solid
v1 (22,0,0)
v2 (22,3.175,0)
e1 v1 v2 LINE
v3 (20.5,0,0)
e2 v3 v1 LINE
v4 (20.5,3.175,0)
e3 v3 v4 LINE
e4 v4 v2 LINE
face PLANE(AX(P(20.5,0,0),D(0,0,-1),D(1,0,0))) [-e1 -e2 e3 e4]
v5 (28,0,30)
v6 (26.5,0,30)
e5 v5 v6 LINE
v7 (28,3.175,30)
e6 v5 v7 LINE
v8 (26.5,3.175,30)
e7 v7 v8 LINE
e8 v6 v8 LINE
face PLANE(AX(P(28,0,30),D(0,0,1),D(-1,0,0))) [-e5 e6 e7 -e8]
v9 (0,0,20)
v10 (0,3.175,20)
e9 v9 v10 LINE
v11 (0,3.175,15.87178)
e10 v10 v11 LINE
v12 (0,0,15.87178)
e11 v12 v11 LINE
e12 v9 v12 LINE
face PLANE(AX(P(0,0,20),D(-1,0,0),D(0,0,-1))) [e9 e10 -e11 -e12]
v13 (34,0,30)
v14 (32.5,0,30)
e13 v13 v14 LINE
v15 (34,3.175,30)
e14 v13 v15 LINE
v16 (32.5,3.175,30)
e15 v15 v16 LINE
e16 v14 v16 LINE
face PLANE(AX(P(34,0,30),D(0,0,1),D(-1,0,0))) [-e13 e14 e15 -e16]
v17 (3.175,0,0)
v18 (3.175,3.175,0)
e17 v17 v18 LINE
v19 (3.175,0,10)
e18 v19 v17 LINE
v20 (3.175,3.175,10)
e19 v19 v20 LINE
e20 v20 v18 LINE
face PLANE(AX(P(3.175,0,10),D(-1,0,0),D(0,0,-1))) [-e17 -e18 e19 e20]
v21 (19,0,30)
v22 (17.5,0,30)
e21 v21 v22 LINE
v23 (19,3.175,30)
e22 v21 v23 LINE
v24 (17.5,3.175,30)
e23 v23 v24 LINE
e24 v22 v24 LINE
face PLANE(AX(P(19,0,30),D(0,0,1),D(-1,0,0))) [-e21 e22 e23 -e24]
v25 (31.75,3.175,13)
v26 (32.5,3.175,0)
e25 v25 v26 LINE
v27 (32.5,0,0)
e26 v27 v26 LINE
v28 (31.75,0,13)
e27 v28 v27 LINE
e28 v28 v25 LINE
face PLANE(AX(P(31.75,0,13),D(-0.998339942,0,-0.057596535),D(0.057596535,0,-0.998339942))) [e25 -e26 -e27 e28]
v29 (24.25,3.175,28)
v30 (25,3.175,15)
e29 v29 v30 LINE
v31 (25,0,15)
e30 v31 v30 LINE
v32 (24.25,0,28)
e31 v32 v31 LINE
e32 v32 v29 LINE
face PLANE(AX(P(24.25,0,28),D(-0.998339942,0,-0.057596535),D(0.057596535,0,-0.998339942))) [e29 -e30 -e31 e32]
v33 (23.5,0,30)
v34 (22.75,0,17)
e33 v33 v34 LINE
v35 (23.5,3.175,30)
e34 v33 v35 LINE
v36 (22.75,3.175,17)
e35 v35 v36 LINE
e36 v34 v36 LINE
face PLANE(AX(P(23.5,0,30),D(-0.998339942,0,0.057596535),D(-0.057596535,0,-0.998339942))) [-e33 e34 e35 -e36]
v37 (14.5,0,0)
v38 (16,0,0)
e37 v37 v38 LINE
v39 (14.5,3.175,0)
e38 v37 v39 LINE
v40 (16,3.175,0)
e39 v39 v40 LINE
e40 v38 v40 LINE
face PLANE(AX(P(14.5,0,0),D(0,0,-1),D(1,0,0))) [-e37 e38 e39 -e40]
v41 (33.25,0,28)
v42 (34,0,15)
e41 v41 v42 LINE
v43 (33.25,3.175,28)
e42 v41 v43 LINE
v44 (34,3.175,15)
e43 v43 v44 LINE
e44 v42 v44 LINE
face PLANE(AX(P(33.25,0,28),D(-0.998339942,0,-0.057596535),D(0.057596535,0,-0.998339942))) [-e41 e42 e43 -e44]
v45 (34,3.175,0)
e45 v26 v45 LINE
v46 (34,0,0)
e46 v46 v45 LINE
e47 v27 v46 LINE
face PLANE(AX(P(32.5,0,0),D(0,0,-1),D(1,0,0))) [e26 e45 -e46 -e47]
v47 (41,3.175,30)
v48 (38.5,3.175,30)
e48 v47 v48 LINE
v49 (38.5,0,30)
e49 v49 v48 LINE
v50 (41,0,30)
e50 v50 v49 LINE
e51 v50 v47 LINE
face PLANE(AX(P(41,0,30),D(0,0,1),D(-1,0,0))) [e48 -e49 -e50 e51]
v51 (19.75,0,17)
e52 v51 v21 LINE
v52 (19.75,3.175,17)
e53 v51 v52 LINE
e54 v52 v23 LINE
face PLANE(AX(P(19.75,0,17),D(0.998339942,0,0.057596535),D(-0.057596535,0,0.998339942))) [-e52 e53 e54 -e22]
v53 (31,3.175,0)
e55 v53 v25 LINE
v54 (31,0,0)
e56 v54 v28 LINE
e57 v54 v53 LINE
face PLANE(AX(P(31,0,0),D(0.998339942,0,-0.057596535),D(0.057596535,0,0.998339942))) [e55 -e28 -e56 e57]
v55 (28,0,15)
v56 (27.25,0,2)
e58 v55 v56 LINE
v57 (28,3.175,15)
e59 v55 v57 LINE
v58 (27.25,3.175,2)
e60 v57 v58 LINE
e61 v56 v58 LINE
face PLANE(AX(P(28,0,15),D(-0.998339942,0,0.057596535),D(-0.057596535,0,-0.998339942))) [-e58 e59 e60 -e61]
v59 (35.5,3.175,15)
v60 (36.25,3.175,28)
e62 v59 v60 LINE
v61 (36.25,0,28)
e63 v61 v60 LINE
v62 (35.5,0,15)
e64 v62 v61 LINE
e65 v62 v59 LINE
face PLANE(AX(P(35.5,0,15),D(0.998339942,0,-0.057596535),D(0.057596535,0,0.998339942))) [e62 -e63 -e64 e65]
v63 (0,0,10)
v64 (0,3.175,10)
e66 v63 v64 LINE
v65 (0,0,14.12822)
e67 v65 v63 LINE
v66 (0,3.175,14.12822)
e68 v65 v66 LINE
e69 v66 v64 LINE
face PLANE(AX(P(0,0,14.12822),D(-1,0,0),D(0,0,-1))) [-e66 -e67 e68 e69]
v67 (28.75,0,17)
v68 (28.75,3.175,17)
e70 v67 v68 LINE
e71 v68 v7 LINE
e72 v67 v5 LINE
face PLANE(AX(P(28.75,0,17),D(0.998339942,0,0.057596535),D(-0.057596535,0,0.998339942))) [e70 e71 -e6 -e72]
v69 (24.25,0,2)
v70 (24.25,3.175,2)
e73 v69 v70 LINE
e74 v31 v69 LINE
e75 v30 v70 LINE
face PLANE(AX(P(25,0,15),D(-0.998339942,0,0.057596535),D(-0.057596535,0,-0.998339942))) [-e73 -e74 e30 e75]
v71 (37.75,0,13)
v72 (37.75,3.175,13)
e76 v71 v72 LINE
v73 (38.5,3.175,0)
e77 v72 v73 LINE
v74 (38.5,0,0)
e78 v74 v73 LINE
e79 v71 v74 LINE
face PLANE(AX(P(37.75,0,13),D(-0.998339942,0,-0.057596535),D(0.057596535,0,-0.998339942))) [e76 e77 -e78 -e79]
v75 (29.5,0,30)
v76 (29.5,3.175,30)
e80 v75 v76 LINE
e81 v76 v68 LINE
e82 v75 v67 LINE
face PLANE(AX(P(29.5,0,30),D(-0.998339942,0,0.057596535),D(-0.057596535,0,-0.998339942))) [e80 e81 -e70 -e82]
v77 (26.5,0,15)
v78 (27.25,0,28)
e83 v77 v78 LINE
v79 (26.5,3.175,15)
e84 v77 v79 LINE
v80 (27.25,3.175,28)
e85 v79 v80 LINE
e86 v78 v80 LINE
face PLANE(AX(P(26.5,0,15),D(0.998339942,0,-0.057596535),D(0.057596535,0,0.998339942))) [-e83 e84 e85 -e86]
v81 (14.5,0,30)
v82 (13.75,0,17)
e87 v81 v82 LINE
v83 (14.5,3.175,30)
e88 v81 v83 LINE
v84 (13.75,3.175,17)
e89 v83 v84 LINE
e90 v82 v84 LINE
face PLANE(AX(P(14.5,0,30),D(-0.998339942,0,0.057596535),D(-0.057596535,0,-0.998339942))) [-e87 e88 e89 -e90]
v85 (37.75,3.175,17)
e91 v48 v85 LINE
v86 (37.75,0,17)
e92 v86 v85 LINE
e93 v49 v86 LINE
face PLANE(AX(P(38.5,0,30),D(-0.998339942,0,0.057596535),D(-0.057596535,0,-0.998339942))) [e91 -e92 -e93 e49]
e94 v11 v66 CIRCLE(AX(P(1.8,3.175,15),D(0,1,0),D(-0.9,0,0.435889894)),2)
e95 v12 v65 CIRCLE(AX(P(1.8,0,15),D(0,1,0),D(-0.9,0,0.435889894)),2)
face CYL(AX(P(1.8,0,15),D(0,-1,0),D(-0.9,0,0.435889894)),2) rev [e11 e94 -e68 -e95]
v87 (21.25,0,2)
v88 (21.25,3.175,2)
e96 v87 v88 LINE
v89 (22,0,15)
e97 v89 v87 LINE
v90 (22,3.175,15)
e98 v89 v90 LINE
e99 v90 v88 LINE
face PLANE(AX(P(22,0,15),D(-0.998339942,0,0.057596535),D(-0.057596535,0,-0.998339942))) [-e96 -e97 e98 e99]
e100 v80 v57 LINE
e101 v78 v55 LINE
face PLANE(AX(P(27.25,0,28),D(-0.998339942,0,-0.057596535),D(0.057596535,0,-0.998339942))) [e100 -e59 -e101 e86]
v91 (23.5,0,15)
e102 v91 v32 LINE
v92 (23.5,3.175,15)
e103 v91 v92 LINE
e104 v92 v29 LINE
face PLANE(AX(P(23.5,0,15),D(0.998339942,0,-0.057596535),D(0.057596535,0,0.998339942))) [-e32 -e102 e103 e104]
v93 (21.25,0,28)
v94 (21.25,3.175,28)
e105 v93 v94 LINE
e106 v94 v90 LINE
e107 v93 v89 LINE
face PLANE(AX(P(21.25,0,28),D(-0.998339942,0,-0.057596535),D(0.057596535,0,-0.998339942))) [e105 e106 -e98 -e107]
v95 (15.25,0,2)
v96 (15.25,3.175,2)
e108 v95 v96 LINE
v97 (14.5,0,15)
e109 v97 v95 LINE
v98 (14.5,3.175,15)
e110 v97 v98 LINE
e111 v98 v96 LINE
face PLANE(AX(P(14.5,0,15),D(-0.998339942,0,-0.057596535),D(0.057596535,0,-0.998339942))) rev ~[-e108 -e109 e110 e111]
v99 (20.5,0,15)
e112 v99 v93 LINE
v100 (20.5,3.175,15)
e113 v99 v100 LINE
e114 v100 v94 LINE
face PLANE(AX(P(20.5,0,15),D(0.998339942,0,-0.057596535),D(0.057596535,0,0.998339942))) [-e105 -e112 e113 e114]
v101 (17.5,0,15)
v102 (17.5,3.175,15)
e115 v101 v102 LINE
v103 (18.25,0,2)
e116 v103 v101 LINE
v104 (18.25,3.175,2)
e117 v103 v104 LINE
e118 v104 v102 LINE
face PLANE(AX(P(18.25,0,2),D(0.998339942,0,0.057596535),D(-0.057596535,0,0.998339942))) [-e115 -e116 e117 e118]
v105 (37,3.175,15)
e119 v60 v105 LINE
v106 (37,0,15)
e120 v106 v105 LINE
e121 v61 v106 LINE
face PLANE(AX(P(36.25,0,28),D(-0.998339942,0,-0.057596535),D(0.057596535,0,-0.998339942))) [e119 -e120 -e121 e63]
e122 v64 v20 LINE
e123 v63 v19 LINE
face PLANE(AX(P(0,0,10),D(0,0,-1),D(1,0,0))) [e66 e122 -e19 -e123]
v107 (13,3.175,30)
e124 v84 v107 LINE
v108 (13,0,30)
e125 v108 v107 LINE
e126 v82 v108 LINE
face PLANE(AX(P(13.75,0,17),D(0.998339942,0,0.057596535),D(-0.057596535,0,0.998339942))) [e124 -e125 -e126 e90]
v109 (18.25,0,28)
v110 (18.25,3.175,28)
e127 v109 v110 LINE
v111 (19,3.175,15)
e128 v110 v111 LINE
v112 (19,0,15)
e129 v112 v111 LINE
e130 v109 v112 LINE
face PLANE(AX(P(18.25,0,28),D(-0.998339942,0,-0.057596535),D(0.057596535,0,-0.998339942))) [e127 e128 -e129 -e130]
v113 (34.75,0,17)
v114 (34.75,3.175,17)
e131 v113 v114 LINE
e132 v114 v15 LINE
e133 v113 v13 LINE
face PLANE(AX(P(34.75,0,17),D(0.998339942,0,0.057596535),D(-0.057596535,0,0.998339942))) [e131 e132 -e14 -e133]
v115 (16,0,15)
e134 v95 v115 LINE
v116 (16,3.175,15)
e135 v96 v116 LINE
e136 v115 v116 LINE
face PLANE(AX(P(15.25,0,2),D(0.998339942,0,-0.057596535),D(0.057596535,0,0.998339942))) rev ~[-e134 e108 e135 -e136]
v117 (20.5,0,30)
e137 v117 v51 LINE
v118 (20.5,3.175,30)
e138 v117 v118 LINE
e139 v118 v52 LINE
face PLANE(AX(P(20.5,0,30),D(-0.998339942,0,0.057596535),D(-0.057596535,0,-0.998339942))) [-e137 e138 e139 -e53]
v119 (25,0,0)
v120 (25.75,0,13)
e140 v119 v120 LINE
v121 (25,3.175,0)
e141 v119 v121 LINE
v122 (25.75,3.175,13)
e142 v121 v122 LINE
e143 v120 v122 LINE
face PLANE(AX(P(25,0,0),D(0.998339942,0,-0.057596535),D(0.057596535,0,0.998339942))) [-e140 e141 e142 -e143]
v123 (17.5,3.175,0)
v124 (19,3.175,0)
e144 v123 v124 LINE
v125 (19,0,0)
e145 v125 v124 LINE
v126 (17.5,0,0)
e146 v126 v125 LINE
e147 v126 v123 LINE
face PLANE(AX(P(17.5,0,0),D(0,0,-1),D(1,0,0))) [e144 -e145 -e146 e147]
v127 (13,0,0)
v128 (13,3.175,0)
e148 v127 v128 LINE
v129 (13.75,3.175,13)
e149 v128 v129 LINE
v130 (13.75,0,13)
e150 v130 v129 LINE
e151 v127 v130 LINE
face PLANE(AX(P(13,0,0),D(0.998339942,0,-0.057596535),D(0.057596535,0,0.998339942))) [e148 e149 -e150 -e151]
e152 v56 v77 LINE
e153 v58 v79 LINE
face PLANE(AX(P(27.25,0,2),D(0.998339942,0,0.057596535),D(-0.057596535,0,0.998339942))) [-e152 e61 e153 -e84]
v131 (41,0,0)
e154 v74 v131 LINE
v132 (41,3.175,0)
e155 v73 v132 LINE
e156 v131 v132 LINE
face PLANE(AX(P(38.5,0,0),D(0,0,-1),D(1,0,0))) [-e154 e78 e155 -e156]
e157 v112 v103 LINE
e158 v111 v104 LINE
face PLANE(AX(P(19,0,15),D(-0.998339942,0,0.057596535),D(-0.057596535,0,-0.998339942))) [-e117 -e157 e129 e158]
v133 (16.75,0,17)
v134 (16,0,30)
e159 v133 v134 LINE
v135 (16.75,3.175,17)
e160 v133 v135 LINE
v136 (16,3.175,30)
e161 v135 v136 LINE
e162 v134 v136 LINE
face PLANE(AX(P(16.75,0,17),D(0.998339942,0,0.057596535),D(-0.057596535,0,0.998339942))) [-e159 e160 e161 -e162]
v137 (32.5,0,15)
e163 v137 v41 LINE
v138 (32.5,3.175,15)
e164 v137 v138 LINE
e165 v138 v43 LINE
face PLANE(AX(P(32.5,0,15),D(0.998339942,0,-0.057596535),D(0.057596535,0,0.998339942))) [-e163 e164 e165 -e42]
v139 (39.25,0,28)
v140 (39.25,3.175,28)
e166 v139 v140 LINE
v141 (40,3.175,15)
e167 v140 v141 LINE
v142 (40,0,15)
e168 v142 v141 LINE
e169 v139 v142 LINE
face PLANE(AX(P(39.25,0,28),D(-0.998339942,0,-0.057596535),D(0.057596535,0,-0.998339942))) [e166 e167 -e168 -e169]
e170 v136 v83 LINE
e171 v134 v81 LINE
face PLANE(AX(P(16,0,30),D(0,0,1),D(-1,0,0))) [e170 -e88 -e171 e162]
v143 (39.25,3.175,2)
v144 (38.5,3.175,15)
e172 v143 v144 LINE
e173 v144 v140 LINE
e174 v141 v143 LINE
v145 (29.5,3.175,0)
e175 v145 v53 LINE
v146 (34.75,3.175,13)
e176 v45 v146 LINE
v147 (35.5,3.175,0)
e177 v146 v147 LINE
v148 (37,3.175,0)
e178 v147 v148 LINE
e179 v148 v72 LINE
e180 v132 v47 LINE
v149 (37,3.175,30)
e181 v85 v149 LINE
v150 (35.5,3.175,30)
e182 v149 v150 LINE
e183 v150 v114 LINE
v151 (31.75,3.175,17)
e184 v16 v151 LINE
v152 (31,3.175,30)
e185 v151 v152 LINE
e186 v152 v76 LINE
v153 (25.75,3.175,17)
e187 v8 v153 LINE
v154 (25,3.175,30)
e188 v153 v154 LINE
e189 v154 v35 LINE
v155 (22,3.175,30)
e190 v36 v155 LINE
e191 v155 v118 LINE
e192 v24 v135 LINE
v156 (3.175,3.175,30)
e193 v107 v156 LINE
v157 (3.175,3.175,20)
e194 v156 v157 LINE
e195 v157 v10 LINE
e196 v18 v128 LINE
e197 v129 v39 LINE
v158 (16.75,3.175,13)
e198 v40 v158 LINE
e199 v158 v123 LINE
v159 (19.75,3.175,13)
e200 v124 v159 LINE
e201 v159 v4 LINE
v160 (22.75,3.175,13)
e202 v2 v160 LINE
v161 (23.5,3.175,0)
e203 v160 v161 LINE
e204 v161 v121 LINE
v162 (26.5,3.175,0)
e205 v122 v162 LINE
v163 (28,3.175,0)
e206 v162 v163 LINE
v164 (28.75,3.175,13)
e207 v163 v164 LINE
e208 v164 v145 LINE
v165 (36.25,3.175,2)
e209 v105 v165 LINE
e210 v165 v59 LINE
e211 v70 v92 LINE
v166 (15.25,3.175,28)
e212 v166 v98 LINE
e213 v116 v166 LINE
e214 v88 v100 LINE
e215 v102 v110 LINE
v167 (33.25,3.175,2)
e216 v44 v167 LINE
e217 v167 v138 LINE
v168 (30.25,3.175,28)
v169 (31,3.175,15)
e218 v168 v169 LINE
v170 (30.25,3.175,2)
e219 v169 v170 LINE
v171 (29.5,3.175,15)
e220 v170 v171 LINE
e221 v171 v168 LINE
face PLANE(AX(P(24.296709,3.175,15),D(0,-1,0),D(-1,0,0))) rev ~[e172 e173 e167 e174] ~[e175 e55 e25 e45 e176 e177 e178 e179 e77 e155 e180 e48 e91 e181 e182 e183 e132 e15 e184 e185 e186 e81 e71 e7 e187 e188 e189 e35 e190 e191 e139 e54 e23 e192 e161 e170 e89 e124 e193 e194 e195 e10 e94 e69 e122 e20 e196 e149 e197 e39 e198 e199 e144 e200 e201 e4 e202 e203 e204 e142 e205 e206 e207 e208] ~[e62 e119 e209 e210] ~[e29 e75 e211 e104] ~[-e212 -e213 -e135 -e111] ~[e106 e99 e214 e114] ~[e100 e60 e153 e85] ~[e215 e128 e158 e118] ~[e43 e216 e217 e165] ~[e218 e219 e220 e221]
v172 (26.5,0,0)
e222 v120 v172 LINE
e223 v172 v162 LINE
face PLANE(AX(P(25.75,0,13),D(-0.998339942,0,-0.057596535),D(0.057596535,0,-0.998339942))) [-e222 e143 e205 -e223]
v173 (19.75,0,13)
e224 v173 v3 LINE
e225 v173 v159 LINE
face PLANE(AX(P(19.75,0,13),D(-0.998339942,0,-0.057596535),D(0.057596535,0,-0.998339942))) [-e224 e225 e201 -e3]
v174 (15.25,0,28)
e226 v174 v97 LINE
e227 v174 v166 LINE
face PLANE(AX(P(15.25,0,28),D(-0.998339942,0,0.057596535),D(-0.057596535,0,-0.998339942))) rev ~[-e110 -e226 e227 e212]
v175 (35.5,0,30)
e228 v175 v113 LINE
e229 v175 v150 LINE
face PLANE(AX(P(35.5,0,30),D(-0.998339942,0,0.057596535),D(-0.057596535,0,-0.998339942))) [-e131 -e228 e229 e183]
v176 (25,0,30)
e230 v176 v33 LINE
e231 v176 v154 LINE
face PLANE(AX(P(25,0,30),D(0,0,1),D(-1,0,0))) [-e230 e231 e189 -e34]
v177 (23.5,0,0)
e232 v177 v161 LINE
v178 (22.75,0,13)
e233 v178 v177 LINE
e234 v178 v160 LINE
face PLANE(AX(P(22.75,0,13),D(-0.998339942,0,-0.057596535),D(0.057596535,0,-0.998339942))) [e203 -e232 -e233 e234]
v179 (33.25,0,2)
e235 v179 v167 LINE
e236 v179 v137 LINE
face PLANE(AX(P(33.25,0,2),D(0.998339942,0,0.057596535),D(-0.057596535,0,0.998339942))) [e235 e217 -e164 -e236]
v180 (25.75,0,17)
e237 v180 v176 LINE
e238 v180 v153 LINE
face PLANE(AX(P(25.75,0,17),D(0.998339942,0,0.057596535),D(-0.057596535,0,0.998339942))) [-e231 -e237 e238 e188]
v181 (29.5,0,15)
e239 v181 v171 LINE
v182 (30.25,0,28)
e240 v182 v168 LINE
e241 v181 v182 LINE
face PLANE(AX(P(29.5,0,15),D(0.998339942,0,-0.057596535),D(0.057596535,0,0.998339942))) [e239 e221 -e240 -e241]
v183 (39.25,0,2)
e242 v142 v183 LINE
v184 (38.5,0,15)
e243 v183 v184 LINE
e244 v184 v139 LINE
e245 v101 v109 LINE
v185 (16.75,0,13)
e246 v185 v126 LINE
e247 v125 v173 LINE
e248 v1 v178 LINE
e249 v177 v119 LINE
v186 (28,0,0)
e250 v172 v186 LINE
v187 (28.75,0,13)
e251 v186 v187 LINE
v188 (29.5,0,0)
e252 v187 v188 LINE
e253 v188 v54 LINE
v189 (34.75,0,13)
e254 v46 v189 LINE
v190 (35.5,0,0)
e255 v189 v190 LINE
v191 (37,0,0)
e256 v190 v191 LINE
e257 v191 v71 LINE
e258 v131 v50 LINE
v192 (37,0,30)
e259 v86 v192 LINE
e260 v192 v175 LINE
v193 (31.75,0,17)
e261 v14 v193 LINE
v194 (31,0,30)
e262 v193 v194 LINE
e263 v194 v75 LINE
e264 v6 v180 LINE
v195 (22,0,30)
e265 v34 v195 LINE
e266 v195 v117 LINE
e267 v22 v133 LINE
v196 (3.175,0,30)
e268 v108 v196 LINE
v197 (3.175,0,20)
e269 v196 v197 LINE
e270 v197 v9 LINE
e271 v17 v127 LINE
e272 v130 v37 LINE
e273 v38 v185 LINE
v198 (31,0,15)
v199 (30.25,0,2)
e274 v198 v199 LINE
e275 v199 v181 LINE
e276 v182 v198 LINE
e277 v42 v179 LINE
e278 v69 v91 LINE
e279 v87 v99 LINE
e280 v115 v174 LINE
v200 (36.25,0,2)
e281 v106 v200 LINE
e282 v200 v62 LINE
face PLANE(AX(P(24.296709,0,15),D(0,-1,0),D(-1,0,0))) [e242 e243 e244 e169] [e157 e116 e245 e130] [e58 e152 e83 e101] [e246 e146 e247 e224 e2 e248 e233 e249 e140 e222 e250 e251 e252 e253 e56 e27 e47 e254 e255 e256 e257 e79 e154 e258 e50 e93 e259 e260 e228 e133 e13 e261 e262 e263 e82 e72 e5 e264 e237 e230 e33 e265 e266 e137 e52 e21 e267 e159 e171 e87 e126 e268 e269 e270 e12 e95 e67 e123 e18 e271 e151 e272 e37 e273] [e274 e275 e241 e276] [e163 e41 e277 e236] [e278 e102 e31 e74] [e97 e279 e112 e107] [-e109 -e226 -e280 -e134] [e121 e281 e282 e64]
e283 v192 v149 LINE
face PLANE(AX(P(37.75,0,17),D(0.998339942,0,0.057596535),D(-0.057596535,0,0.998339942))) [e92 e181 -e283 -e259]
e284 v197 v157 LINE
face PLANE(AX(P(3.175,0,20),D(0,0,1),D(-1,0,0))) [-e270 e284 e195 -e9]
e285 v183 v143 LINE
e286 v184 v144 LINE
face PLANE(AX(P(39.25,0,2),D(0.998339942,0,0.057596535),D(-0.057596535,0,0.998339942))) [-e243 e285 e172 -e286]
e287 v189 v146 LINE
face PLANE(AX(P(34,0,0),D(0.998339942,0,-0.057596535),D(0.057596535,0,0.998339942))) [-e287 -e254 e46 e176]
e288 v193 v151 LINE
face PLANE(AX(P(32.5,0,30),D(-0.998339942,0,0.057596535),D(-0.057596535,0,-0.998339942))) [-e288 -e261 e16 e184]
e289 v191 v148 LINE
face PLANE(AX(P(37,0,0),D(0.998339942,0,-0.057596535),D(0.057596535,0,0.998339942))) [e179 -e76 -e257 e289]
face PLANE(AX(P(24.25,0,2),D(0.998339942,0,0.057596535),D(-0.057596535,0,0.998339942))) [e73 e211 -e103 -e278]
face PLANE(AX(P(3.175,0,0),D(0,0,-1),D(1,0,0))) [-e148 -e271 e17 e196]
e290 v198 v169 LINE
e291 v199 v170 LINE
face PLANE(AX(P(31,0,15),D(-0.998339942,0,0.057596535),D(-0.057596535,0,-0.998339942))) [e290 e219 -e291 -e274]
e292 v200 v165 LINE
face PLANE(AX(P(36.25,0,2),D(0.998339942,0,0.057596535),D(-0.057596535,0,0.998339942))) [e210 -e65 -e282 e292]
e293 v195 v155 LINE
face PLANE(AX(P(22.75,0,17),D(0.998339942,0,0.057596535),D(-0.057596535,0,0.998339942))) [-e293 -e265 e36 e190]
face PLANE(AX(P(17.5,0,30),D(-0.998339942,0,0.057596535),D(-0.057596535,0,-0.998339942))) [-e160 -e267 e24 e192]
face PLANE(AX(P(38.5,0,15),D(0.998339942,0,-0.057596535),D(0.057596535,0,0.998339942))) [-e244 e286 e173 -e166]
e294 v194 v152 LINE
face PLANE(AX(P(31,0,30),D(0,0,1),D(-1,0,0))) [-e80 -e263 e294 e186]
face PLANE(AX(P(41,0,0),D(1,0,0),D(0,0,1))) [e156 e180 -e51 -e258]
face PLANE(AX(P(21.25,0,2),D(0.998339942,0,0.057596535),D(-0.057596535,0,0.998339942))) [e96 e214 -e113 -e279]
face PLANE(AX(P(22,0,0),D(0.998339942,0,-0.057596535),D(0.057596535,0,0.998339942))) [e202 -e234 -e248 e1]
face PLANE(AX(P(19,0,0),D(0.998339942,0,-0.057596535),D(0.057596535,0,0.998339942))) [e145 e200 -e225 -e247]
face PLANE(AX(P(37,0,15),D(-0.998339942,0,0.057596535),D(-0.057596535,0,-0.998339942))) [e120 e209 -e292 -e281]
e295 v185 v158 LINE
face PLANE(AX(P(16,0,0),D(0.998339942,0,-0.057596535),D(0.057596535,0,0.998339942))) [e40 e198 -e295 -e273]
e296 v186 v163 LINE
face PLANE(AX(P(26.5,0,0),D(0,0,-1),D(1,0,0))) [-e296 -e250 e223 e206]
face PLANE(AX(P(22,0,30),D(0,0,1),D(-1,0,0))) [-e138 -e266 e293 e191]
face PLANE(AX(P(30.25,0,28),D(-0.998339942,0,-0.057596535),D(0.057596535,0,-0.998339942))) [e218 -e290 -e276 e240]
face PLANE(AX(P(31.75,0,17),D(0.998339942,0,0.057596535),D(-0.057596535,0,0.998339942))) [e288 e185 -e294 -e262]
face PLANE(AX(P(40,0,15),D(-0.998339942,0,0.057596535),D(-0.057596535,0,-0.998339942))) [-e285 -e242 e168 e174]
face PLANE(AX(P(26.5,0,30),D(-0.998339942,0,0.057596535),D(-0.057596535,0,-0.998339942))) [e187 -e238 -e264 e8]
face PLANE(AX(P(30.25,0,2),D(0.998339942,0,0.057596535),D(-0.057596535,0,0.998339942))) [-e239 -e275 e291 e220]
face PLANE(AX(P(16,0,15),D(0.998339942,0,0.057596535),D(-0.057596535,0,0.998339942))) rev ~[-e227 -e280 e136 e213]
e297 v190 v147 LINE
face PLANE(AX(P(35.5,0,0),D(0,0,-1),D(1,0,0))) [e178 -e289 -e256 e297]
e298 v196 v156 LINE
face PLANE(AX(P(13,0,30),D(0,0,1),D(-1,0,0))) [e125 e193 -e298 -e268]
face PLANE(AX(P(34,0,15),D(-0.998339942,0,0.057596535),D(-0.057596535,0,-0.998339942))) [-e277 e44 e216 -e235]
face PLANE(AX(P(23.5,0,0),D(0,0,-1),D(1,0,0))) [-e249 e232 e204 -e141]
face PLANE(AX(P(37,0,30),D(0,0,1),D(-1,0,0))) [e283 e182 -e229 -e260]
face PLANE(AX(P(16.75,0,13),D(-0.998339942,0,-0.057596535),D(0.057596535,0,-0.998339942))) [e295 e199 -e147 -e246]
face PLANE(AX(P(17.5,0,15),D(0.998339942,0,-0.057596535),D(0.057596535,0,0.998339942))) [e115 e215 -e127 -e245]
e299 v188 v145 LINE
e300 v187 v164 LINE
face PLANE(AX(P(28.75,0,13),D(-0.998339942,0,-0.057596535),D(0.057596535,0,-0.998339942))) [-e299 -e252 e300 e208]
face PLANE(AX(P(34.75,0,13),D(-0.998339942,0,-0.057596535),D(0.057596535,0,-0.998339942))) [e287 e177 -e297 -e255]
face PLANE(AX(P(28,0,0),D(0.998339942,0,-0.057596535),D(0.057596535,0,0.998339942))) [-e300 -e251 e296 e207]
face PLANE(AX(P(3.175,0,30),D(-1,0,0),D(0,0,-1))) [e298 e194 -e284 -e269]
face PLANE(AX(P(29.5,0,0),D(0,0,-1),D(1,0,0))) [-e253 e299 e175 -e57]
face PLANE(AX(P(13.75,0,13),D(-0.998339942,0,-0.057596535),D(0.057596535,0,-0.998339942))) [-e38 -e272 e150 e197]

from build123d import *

# Parameters (mm, degrees)
BOSS_EXTRUDE1_DEPTH = 3.175


with BuildPart() as part:
    # Sketch1 → Boss-Extrude1 (new body)
    with BuildSketch(Plane(origin=(0, 0, 0), x_dir=(1, 0, 0), z_dir=(0, 1, 0))):
        with BuildLine():
            Line((13, 0), (3.175, 0))
            Line((3.175, 0), (3.175, -10))
            Line((3.175, -10), (0, -10))
            Line((0, -10), (0, -14.128220211))
            ThreePointArc((0, -14.128220211), (3.8, -15), (0, -15.871779789))
            Line((0, -15.871779789), (0, -20))
            Line((0, -20), (3.175, -20))
            Line((3.175, -20), (3.175, -30))
            Line((3.175, -30), (13, -30))
            Line((13, -30), (13.75, -17))
            Line((13.75, -17), (14.5, -30))
            Line((14.5, -30), (16, -30))
            Line((16, -30), (16.75, -17))
            Line((16.75, -17), (17.5, -30))
            Line((17.5, -30), (19, -30))
            Line((19, -30), (19.75, -17))
            Line((19.75, -17), (20.5, -30))
            Line((20.5, -30), (22, -30))
            Line((22, -30), (22.75, -17))
            Line((22.75, -17), (23.5, -30))
            Line((23.5, -30), (25, -30))
            Line((25, -30), (25.75, -17))
            Line((25.75, -17), (26.5, -30))
            Line((26.5, -30), (28, -30))
            Line((28, -30), (28.75, -17))
            Line((28.75, -17), (29.5, -30))
            Line((29.5, -30), (31, -30))
            Line((31, -30), (31.75, -17))
            Line((31.75, -17), (32.5, -30))
            Line((32.5, -30), (34, -30))
            Line((34, -30), (34.75, -17))
            Line((34.75, -17), (35.5, -30))
            Line((35.5, -30), (37, -30))
            Line((37, -30), (37.75, -17))
            Line((37.75, -17), (38.5, -30))
            Line((38.5, -30), (40, -30))
            Line((40, -30), (41, -30))
            Line((41, -30), (41, 0))
            Line((41, 0), (40, 0))
            Line((40, 0), (38.5, 0))
            Line((38.5, 0), (37.75, -13))
            Line((37.75, -13), (37, 0))
            Line((37, 0), (35.5, 0))
            Line((35.5, 0), (34.75, -13))
            Line((34.75, -13), (34, 0))
            Line((34, 0), (32.5, 0))
            Line((32.5, 0), (31.75, -13))
            Line((31.75, -13), (31, 0))
            Line((31, 0), (29.5, 0))
            Line((29.5, 0), (28.75, -13))
            Line((28.75, -13), (28, 0))
            Line((28, 0), (26.5, 0))
            Line((26.5, 0), (25.75, -13))
            Line((25.75, -13), (25, 0))
            Line((25, 0), (23.5, 0))
            Line((23.5, 0), (22.75, -13))
            Line((22.75, -13), (22, 0))
            Line((22, 0), (20.5, 0))
            Line((20.5, 0), (19.75, -13))
            Line((19.75, -13), (19, 0))
            Line((19, 0), (17.5, 0))
            Line((17.5, 0), (16.75, -13))
            Line((16.75, -13), (16, 0))
            Line((16, 0), (14.5, 0))
            Line((14.5, 0), (13.75, -13))
            Line((13.75, -13), (13, 0))
        make_face()
        Polygon((14.5, -15), (15.25, -2), (16, -15), (15.25, -28), align=None, mode=Mode.SUBTRACT)
        Polygon((17.5, -15), (18.25, -2), (19, -15), (18.25, -28), align=None, mode=Mode.SUBTRACT)
        Polygon((20.5, -15), (21.25, -2), (22, -15), (21.25, -28), align=None, mode=Mode.SUBTRACT)
        Polygon((23.5, -15), (24.25, -2), (25, -15), (24.25, -28), align=None, mode=Mode.SUBTRACT)
        Polygon((26.5, -15), (27.25, -2), (28, -15), (27.25, -28), align=None, mode=Mode.SUBTRACT)
        Polygon((29.5, -15), (30.25, -2), (31, -15), (30.25, -28), align=None, mode=Mode.SUBTRACT)
        Polygon((32.5, -15), (33.25, -2), (34, -15), (33.25, -28), align=None, mode=Mode.SUBTRACT)
        Polygon((35.5, -15), (36.25, -2), (37, -15), (36.25, -28), align=None, mode=Mode.SUBTRACT)
        Polygon((38.5, -15), (39.25, -2), (40, -15), (39.25, -28), align=None, mode=Mode.SUBTRACT)
    extrude(amount=BOSS_EXTRUDE1_DEPTH)


solid = part.part
